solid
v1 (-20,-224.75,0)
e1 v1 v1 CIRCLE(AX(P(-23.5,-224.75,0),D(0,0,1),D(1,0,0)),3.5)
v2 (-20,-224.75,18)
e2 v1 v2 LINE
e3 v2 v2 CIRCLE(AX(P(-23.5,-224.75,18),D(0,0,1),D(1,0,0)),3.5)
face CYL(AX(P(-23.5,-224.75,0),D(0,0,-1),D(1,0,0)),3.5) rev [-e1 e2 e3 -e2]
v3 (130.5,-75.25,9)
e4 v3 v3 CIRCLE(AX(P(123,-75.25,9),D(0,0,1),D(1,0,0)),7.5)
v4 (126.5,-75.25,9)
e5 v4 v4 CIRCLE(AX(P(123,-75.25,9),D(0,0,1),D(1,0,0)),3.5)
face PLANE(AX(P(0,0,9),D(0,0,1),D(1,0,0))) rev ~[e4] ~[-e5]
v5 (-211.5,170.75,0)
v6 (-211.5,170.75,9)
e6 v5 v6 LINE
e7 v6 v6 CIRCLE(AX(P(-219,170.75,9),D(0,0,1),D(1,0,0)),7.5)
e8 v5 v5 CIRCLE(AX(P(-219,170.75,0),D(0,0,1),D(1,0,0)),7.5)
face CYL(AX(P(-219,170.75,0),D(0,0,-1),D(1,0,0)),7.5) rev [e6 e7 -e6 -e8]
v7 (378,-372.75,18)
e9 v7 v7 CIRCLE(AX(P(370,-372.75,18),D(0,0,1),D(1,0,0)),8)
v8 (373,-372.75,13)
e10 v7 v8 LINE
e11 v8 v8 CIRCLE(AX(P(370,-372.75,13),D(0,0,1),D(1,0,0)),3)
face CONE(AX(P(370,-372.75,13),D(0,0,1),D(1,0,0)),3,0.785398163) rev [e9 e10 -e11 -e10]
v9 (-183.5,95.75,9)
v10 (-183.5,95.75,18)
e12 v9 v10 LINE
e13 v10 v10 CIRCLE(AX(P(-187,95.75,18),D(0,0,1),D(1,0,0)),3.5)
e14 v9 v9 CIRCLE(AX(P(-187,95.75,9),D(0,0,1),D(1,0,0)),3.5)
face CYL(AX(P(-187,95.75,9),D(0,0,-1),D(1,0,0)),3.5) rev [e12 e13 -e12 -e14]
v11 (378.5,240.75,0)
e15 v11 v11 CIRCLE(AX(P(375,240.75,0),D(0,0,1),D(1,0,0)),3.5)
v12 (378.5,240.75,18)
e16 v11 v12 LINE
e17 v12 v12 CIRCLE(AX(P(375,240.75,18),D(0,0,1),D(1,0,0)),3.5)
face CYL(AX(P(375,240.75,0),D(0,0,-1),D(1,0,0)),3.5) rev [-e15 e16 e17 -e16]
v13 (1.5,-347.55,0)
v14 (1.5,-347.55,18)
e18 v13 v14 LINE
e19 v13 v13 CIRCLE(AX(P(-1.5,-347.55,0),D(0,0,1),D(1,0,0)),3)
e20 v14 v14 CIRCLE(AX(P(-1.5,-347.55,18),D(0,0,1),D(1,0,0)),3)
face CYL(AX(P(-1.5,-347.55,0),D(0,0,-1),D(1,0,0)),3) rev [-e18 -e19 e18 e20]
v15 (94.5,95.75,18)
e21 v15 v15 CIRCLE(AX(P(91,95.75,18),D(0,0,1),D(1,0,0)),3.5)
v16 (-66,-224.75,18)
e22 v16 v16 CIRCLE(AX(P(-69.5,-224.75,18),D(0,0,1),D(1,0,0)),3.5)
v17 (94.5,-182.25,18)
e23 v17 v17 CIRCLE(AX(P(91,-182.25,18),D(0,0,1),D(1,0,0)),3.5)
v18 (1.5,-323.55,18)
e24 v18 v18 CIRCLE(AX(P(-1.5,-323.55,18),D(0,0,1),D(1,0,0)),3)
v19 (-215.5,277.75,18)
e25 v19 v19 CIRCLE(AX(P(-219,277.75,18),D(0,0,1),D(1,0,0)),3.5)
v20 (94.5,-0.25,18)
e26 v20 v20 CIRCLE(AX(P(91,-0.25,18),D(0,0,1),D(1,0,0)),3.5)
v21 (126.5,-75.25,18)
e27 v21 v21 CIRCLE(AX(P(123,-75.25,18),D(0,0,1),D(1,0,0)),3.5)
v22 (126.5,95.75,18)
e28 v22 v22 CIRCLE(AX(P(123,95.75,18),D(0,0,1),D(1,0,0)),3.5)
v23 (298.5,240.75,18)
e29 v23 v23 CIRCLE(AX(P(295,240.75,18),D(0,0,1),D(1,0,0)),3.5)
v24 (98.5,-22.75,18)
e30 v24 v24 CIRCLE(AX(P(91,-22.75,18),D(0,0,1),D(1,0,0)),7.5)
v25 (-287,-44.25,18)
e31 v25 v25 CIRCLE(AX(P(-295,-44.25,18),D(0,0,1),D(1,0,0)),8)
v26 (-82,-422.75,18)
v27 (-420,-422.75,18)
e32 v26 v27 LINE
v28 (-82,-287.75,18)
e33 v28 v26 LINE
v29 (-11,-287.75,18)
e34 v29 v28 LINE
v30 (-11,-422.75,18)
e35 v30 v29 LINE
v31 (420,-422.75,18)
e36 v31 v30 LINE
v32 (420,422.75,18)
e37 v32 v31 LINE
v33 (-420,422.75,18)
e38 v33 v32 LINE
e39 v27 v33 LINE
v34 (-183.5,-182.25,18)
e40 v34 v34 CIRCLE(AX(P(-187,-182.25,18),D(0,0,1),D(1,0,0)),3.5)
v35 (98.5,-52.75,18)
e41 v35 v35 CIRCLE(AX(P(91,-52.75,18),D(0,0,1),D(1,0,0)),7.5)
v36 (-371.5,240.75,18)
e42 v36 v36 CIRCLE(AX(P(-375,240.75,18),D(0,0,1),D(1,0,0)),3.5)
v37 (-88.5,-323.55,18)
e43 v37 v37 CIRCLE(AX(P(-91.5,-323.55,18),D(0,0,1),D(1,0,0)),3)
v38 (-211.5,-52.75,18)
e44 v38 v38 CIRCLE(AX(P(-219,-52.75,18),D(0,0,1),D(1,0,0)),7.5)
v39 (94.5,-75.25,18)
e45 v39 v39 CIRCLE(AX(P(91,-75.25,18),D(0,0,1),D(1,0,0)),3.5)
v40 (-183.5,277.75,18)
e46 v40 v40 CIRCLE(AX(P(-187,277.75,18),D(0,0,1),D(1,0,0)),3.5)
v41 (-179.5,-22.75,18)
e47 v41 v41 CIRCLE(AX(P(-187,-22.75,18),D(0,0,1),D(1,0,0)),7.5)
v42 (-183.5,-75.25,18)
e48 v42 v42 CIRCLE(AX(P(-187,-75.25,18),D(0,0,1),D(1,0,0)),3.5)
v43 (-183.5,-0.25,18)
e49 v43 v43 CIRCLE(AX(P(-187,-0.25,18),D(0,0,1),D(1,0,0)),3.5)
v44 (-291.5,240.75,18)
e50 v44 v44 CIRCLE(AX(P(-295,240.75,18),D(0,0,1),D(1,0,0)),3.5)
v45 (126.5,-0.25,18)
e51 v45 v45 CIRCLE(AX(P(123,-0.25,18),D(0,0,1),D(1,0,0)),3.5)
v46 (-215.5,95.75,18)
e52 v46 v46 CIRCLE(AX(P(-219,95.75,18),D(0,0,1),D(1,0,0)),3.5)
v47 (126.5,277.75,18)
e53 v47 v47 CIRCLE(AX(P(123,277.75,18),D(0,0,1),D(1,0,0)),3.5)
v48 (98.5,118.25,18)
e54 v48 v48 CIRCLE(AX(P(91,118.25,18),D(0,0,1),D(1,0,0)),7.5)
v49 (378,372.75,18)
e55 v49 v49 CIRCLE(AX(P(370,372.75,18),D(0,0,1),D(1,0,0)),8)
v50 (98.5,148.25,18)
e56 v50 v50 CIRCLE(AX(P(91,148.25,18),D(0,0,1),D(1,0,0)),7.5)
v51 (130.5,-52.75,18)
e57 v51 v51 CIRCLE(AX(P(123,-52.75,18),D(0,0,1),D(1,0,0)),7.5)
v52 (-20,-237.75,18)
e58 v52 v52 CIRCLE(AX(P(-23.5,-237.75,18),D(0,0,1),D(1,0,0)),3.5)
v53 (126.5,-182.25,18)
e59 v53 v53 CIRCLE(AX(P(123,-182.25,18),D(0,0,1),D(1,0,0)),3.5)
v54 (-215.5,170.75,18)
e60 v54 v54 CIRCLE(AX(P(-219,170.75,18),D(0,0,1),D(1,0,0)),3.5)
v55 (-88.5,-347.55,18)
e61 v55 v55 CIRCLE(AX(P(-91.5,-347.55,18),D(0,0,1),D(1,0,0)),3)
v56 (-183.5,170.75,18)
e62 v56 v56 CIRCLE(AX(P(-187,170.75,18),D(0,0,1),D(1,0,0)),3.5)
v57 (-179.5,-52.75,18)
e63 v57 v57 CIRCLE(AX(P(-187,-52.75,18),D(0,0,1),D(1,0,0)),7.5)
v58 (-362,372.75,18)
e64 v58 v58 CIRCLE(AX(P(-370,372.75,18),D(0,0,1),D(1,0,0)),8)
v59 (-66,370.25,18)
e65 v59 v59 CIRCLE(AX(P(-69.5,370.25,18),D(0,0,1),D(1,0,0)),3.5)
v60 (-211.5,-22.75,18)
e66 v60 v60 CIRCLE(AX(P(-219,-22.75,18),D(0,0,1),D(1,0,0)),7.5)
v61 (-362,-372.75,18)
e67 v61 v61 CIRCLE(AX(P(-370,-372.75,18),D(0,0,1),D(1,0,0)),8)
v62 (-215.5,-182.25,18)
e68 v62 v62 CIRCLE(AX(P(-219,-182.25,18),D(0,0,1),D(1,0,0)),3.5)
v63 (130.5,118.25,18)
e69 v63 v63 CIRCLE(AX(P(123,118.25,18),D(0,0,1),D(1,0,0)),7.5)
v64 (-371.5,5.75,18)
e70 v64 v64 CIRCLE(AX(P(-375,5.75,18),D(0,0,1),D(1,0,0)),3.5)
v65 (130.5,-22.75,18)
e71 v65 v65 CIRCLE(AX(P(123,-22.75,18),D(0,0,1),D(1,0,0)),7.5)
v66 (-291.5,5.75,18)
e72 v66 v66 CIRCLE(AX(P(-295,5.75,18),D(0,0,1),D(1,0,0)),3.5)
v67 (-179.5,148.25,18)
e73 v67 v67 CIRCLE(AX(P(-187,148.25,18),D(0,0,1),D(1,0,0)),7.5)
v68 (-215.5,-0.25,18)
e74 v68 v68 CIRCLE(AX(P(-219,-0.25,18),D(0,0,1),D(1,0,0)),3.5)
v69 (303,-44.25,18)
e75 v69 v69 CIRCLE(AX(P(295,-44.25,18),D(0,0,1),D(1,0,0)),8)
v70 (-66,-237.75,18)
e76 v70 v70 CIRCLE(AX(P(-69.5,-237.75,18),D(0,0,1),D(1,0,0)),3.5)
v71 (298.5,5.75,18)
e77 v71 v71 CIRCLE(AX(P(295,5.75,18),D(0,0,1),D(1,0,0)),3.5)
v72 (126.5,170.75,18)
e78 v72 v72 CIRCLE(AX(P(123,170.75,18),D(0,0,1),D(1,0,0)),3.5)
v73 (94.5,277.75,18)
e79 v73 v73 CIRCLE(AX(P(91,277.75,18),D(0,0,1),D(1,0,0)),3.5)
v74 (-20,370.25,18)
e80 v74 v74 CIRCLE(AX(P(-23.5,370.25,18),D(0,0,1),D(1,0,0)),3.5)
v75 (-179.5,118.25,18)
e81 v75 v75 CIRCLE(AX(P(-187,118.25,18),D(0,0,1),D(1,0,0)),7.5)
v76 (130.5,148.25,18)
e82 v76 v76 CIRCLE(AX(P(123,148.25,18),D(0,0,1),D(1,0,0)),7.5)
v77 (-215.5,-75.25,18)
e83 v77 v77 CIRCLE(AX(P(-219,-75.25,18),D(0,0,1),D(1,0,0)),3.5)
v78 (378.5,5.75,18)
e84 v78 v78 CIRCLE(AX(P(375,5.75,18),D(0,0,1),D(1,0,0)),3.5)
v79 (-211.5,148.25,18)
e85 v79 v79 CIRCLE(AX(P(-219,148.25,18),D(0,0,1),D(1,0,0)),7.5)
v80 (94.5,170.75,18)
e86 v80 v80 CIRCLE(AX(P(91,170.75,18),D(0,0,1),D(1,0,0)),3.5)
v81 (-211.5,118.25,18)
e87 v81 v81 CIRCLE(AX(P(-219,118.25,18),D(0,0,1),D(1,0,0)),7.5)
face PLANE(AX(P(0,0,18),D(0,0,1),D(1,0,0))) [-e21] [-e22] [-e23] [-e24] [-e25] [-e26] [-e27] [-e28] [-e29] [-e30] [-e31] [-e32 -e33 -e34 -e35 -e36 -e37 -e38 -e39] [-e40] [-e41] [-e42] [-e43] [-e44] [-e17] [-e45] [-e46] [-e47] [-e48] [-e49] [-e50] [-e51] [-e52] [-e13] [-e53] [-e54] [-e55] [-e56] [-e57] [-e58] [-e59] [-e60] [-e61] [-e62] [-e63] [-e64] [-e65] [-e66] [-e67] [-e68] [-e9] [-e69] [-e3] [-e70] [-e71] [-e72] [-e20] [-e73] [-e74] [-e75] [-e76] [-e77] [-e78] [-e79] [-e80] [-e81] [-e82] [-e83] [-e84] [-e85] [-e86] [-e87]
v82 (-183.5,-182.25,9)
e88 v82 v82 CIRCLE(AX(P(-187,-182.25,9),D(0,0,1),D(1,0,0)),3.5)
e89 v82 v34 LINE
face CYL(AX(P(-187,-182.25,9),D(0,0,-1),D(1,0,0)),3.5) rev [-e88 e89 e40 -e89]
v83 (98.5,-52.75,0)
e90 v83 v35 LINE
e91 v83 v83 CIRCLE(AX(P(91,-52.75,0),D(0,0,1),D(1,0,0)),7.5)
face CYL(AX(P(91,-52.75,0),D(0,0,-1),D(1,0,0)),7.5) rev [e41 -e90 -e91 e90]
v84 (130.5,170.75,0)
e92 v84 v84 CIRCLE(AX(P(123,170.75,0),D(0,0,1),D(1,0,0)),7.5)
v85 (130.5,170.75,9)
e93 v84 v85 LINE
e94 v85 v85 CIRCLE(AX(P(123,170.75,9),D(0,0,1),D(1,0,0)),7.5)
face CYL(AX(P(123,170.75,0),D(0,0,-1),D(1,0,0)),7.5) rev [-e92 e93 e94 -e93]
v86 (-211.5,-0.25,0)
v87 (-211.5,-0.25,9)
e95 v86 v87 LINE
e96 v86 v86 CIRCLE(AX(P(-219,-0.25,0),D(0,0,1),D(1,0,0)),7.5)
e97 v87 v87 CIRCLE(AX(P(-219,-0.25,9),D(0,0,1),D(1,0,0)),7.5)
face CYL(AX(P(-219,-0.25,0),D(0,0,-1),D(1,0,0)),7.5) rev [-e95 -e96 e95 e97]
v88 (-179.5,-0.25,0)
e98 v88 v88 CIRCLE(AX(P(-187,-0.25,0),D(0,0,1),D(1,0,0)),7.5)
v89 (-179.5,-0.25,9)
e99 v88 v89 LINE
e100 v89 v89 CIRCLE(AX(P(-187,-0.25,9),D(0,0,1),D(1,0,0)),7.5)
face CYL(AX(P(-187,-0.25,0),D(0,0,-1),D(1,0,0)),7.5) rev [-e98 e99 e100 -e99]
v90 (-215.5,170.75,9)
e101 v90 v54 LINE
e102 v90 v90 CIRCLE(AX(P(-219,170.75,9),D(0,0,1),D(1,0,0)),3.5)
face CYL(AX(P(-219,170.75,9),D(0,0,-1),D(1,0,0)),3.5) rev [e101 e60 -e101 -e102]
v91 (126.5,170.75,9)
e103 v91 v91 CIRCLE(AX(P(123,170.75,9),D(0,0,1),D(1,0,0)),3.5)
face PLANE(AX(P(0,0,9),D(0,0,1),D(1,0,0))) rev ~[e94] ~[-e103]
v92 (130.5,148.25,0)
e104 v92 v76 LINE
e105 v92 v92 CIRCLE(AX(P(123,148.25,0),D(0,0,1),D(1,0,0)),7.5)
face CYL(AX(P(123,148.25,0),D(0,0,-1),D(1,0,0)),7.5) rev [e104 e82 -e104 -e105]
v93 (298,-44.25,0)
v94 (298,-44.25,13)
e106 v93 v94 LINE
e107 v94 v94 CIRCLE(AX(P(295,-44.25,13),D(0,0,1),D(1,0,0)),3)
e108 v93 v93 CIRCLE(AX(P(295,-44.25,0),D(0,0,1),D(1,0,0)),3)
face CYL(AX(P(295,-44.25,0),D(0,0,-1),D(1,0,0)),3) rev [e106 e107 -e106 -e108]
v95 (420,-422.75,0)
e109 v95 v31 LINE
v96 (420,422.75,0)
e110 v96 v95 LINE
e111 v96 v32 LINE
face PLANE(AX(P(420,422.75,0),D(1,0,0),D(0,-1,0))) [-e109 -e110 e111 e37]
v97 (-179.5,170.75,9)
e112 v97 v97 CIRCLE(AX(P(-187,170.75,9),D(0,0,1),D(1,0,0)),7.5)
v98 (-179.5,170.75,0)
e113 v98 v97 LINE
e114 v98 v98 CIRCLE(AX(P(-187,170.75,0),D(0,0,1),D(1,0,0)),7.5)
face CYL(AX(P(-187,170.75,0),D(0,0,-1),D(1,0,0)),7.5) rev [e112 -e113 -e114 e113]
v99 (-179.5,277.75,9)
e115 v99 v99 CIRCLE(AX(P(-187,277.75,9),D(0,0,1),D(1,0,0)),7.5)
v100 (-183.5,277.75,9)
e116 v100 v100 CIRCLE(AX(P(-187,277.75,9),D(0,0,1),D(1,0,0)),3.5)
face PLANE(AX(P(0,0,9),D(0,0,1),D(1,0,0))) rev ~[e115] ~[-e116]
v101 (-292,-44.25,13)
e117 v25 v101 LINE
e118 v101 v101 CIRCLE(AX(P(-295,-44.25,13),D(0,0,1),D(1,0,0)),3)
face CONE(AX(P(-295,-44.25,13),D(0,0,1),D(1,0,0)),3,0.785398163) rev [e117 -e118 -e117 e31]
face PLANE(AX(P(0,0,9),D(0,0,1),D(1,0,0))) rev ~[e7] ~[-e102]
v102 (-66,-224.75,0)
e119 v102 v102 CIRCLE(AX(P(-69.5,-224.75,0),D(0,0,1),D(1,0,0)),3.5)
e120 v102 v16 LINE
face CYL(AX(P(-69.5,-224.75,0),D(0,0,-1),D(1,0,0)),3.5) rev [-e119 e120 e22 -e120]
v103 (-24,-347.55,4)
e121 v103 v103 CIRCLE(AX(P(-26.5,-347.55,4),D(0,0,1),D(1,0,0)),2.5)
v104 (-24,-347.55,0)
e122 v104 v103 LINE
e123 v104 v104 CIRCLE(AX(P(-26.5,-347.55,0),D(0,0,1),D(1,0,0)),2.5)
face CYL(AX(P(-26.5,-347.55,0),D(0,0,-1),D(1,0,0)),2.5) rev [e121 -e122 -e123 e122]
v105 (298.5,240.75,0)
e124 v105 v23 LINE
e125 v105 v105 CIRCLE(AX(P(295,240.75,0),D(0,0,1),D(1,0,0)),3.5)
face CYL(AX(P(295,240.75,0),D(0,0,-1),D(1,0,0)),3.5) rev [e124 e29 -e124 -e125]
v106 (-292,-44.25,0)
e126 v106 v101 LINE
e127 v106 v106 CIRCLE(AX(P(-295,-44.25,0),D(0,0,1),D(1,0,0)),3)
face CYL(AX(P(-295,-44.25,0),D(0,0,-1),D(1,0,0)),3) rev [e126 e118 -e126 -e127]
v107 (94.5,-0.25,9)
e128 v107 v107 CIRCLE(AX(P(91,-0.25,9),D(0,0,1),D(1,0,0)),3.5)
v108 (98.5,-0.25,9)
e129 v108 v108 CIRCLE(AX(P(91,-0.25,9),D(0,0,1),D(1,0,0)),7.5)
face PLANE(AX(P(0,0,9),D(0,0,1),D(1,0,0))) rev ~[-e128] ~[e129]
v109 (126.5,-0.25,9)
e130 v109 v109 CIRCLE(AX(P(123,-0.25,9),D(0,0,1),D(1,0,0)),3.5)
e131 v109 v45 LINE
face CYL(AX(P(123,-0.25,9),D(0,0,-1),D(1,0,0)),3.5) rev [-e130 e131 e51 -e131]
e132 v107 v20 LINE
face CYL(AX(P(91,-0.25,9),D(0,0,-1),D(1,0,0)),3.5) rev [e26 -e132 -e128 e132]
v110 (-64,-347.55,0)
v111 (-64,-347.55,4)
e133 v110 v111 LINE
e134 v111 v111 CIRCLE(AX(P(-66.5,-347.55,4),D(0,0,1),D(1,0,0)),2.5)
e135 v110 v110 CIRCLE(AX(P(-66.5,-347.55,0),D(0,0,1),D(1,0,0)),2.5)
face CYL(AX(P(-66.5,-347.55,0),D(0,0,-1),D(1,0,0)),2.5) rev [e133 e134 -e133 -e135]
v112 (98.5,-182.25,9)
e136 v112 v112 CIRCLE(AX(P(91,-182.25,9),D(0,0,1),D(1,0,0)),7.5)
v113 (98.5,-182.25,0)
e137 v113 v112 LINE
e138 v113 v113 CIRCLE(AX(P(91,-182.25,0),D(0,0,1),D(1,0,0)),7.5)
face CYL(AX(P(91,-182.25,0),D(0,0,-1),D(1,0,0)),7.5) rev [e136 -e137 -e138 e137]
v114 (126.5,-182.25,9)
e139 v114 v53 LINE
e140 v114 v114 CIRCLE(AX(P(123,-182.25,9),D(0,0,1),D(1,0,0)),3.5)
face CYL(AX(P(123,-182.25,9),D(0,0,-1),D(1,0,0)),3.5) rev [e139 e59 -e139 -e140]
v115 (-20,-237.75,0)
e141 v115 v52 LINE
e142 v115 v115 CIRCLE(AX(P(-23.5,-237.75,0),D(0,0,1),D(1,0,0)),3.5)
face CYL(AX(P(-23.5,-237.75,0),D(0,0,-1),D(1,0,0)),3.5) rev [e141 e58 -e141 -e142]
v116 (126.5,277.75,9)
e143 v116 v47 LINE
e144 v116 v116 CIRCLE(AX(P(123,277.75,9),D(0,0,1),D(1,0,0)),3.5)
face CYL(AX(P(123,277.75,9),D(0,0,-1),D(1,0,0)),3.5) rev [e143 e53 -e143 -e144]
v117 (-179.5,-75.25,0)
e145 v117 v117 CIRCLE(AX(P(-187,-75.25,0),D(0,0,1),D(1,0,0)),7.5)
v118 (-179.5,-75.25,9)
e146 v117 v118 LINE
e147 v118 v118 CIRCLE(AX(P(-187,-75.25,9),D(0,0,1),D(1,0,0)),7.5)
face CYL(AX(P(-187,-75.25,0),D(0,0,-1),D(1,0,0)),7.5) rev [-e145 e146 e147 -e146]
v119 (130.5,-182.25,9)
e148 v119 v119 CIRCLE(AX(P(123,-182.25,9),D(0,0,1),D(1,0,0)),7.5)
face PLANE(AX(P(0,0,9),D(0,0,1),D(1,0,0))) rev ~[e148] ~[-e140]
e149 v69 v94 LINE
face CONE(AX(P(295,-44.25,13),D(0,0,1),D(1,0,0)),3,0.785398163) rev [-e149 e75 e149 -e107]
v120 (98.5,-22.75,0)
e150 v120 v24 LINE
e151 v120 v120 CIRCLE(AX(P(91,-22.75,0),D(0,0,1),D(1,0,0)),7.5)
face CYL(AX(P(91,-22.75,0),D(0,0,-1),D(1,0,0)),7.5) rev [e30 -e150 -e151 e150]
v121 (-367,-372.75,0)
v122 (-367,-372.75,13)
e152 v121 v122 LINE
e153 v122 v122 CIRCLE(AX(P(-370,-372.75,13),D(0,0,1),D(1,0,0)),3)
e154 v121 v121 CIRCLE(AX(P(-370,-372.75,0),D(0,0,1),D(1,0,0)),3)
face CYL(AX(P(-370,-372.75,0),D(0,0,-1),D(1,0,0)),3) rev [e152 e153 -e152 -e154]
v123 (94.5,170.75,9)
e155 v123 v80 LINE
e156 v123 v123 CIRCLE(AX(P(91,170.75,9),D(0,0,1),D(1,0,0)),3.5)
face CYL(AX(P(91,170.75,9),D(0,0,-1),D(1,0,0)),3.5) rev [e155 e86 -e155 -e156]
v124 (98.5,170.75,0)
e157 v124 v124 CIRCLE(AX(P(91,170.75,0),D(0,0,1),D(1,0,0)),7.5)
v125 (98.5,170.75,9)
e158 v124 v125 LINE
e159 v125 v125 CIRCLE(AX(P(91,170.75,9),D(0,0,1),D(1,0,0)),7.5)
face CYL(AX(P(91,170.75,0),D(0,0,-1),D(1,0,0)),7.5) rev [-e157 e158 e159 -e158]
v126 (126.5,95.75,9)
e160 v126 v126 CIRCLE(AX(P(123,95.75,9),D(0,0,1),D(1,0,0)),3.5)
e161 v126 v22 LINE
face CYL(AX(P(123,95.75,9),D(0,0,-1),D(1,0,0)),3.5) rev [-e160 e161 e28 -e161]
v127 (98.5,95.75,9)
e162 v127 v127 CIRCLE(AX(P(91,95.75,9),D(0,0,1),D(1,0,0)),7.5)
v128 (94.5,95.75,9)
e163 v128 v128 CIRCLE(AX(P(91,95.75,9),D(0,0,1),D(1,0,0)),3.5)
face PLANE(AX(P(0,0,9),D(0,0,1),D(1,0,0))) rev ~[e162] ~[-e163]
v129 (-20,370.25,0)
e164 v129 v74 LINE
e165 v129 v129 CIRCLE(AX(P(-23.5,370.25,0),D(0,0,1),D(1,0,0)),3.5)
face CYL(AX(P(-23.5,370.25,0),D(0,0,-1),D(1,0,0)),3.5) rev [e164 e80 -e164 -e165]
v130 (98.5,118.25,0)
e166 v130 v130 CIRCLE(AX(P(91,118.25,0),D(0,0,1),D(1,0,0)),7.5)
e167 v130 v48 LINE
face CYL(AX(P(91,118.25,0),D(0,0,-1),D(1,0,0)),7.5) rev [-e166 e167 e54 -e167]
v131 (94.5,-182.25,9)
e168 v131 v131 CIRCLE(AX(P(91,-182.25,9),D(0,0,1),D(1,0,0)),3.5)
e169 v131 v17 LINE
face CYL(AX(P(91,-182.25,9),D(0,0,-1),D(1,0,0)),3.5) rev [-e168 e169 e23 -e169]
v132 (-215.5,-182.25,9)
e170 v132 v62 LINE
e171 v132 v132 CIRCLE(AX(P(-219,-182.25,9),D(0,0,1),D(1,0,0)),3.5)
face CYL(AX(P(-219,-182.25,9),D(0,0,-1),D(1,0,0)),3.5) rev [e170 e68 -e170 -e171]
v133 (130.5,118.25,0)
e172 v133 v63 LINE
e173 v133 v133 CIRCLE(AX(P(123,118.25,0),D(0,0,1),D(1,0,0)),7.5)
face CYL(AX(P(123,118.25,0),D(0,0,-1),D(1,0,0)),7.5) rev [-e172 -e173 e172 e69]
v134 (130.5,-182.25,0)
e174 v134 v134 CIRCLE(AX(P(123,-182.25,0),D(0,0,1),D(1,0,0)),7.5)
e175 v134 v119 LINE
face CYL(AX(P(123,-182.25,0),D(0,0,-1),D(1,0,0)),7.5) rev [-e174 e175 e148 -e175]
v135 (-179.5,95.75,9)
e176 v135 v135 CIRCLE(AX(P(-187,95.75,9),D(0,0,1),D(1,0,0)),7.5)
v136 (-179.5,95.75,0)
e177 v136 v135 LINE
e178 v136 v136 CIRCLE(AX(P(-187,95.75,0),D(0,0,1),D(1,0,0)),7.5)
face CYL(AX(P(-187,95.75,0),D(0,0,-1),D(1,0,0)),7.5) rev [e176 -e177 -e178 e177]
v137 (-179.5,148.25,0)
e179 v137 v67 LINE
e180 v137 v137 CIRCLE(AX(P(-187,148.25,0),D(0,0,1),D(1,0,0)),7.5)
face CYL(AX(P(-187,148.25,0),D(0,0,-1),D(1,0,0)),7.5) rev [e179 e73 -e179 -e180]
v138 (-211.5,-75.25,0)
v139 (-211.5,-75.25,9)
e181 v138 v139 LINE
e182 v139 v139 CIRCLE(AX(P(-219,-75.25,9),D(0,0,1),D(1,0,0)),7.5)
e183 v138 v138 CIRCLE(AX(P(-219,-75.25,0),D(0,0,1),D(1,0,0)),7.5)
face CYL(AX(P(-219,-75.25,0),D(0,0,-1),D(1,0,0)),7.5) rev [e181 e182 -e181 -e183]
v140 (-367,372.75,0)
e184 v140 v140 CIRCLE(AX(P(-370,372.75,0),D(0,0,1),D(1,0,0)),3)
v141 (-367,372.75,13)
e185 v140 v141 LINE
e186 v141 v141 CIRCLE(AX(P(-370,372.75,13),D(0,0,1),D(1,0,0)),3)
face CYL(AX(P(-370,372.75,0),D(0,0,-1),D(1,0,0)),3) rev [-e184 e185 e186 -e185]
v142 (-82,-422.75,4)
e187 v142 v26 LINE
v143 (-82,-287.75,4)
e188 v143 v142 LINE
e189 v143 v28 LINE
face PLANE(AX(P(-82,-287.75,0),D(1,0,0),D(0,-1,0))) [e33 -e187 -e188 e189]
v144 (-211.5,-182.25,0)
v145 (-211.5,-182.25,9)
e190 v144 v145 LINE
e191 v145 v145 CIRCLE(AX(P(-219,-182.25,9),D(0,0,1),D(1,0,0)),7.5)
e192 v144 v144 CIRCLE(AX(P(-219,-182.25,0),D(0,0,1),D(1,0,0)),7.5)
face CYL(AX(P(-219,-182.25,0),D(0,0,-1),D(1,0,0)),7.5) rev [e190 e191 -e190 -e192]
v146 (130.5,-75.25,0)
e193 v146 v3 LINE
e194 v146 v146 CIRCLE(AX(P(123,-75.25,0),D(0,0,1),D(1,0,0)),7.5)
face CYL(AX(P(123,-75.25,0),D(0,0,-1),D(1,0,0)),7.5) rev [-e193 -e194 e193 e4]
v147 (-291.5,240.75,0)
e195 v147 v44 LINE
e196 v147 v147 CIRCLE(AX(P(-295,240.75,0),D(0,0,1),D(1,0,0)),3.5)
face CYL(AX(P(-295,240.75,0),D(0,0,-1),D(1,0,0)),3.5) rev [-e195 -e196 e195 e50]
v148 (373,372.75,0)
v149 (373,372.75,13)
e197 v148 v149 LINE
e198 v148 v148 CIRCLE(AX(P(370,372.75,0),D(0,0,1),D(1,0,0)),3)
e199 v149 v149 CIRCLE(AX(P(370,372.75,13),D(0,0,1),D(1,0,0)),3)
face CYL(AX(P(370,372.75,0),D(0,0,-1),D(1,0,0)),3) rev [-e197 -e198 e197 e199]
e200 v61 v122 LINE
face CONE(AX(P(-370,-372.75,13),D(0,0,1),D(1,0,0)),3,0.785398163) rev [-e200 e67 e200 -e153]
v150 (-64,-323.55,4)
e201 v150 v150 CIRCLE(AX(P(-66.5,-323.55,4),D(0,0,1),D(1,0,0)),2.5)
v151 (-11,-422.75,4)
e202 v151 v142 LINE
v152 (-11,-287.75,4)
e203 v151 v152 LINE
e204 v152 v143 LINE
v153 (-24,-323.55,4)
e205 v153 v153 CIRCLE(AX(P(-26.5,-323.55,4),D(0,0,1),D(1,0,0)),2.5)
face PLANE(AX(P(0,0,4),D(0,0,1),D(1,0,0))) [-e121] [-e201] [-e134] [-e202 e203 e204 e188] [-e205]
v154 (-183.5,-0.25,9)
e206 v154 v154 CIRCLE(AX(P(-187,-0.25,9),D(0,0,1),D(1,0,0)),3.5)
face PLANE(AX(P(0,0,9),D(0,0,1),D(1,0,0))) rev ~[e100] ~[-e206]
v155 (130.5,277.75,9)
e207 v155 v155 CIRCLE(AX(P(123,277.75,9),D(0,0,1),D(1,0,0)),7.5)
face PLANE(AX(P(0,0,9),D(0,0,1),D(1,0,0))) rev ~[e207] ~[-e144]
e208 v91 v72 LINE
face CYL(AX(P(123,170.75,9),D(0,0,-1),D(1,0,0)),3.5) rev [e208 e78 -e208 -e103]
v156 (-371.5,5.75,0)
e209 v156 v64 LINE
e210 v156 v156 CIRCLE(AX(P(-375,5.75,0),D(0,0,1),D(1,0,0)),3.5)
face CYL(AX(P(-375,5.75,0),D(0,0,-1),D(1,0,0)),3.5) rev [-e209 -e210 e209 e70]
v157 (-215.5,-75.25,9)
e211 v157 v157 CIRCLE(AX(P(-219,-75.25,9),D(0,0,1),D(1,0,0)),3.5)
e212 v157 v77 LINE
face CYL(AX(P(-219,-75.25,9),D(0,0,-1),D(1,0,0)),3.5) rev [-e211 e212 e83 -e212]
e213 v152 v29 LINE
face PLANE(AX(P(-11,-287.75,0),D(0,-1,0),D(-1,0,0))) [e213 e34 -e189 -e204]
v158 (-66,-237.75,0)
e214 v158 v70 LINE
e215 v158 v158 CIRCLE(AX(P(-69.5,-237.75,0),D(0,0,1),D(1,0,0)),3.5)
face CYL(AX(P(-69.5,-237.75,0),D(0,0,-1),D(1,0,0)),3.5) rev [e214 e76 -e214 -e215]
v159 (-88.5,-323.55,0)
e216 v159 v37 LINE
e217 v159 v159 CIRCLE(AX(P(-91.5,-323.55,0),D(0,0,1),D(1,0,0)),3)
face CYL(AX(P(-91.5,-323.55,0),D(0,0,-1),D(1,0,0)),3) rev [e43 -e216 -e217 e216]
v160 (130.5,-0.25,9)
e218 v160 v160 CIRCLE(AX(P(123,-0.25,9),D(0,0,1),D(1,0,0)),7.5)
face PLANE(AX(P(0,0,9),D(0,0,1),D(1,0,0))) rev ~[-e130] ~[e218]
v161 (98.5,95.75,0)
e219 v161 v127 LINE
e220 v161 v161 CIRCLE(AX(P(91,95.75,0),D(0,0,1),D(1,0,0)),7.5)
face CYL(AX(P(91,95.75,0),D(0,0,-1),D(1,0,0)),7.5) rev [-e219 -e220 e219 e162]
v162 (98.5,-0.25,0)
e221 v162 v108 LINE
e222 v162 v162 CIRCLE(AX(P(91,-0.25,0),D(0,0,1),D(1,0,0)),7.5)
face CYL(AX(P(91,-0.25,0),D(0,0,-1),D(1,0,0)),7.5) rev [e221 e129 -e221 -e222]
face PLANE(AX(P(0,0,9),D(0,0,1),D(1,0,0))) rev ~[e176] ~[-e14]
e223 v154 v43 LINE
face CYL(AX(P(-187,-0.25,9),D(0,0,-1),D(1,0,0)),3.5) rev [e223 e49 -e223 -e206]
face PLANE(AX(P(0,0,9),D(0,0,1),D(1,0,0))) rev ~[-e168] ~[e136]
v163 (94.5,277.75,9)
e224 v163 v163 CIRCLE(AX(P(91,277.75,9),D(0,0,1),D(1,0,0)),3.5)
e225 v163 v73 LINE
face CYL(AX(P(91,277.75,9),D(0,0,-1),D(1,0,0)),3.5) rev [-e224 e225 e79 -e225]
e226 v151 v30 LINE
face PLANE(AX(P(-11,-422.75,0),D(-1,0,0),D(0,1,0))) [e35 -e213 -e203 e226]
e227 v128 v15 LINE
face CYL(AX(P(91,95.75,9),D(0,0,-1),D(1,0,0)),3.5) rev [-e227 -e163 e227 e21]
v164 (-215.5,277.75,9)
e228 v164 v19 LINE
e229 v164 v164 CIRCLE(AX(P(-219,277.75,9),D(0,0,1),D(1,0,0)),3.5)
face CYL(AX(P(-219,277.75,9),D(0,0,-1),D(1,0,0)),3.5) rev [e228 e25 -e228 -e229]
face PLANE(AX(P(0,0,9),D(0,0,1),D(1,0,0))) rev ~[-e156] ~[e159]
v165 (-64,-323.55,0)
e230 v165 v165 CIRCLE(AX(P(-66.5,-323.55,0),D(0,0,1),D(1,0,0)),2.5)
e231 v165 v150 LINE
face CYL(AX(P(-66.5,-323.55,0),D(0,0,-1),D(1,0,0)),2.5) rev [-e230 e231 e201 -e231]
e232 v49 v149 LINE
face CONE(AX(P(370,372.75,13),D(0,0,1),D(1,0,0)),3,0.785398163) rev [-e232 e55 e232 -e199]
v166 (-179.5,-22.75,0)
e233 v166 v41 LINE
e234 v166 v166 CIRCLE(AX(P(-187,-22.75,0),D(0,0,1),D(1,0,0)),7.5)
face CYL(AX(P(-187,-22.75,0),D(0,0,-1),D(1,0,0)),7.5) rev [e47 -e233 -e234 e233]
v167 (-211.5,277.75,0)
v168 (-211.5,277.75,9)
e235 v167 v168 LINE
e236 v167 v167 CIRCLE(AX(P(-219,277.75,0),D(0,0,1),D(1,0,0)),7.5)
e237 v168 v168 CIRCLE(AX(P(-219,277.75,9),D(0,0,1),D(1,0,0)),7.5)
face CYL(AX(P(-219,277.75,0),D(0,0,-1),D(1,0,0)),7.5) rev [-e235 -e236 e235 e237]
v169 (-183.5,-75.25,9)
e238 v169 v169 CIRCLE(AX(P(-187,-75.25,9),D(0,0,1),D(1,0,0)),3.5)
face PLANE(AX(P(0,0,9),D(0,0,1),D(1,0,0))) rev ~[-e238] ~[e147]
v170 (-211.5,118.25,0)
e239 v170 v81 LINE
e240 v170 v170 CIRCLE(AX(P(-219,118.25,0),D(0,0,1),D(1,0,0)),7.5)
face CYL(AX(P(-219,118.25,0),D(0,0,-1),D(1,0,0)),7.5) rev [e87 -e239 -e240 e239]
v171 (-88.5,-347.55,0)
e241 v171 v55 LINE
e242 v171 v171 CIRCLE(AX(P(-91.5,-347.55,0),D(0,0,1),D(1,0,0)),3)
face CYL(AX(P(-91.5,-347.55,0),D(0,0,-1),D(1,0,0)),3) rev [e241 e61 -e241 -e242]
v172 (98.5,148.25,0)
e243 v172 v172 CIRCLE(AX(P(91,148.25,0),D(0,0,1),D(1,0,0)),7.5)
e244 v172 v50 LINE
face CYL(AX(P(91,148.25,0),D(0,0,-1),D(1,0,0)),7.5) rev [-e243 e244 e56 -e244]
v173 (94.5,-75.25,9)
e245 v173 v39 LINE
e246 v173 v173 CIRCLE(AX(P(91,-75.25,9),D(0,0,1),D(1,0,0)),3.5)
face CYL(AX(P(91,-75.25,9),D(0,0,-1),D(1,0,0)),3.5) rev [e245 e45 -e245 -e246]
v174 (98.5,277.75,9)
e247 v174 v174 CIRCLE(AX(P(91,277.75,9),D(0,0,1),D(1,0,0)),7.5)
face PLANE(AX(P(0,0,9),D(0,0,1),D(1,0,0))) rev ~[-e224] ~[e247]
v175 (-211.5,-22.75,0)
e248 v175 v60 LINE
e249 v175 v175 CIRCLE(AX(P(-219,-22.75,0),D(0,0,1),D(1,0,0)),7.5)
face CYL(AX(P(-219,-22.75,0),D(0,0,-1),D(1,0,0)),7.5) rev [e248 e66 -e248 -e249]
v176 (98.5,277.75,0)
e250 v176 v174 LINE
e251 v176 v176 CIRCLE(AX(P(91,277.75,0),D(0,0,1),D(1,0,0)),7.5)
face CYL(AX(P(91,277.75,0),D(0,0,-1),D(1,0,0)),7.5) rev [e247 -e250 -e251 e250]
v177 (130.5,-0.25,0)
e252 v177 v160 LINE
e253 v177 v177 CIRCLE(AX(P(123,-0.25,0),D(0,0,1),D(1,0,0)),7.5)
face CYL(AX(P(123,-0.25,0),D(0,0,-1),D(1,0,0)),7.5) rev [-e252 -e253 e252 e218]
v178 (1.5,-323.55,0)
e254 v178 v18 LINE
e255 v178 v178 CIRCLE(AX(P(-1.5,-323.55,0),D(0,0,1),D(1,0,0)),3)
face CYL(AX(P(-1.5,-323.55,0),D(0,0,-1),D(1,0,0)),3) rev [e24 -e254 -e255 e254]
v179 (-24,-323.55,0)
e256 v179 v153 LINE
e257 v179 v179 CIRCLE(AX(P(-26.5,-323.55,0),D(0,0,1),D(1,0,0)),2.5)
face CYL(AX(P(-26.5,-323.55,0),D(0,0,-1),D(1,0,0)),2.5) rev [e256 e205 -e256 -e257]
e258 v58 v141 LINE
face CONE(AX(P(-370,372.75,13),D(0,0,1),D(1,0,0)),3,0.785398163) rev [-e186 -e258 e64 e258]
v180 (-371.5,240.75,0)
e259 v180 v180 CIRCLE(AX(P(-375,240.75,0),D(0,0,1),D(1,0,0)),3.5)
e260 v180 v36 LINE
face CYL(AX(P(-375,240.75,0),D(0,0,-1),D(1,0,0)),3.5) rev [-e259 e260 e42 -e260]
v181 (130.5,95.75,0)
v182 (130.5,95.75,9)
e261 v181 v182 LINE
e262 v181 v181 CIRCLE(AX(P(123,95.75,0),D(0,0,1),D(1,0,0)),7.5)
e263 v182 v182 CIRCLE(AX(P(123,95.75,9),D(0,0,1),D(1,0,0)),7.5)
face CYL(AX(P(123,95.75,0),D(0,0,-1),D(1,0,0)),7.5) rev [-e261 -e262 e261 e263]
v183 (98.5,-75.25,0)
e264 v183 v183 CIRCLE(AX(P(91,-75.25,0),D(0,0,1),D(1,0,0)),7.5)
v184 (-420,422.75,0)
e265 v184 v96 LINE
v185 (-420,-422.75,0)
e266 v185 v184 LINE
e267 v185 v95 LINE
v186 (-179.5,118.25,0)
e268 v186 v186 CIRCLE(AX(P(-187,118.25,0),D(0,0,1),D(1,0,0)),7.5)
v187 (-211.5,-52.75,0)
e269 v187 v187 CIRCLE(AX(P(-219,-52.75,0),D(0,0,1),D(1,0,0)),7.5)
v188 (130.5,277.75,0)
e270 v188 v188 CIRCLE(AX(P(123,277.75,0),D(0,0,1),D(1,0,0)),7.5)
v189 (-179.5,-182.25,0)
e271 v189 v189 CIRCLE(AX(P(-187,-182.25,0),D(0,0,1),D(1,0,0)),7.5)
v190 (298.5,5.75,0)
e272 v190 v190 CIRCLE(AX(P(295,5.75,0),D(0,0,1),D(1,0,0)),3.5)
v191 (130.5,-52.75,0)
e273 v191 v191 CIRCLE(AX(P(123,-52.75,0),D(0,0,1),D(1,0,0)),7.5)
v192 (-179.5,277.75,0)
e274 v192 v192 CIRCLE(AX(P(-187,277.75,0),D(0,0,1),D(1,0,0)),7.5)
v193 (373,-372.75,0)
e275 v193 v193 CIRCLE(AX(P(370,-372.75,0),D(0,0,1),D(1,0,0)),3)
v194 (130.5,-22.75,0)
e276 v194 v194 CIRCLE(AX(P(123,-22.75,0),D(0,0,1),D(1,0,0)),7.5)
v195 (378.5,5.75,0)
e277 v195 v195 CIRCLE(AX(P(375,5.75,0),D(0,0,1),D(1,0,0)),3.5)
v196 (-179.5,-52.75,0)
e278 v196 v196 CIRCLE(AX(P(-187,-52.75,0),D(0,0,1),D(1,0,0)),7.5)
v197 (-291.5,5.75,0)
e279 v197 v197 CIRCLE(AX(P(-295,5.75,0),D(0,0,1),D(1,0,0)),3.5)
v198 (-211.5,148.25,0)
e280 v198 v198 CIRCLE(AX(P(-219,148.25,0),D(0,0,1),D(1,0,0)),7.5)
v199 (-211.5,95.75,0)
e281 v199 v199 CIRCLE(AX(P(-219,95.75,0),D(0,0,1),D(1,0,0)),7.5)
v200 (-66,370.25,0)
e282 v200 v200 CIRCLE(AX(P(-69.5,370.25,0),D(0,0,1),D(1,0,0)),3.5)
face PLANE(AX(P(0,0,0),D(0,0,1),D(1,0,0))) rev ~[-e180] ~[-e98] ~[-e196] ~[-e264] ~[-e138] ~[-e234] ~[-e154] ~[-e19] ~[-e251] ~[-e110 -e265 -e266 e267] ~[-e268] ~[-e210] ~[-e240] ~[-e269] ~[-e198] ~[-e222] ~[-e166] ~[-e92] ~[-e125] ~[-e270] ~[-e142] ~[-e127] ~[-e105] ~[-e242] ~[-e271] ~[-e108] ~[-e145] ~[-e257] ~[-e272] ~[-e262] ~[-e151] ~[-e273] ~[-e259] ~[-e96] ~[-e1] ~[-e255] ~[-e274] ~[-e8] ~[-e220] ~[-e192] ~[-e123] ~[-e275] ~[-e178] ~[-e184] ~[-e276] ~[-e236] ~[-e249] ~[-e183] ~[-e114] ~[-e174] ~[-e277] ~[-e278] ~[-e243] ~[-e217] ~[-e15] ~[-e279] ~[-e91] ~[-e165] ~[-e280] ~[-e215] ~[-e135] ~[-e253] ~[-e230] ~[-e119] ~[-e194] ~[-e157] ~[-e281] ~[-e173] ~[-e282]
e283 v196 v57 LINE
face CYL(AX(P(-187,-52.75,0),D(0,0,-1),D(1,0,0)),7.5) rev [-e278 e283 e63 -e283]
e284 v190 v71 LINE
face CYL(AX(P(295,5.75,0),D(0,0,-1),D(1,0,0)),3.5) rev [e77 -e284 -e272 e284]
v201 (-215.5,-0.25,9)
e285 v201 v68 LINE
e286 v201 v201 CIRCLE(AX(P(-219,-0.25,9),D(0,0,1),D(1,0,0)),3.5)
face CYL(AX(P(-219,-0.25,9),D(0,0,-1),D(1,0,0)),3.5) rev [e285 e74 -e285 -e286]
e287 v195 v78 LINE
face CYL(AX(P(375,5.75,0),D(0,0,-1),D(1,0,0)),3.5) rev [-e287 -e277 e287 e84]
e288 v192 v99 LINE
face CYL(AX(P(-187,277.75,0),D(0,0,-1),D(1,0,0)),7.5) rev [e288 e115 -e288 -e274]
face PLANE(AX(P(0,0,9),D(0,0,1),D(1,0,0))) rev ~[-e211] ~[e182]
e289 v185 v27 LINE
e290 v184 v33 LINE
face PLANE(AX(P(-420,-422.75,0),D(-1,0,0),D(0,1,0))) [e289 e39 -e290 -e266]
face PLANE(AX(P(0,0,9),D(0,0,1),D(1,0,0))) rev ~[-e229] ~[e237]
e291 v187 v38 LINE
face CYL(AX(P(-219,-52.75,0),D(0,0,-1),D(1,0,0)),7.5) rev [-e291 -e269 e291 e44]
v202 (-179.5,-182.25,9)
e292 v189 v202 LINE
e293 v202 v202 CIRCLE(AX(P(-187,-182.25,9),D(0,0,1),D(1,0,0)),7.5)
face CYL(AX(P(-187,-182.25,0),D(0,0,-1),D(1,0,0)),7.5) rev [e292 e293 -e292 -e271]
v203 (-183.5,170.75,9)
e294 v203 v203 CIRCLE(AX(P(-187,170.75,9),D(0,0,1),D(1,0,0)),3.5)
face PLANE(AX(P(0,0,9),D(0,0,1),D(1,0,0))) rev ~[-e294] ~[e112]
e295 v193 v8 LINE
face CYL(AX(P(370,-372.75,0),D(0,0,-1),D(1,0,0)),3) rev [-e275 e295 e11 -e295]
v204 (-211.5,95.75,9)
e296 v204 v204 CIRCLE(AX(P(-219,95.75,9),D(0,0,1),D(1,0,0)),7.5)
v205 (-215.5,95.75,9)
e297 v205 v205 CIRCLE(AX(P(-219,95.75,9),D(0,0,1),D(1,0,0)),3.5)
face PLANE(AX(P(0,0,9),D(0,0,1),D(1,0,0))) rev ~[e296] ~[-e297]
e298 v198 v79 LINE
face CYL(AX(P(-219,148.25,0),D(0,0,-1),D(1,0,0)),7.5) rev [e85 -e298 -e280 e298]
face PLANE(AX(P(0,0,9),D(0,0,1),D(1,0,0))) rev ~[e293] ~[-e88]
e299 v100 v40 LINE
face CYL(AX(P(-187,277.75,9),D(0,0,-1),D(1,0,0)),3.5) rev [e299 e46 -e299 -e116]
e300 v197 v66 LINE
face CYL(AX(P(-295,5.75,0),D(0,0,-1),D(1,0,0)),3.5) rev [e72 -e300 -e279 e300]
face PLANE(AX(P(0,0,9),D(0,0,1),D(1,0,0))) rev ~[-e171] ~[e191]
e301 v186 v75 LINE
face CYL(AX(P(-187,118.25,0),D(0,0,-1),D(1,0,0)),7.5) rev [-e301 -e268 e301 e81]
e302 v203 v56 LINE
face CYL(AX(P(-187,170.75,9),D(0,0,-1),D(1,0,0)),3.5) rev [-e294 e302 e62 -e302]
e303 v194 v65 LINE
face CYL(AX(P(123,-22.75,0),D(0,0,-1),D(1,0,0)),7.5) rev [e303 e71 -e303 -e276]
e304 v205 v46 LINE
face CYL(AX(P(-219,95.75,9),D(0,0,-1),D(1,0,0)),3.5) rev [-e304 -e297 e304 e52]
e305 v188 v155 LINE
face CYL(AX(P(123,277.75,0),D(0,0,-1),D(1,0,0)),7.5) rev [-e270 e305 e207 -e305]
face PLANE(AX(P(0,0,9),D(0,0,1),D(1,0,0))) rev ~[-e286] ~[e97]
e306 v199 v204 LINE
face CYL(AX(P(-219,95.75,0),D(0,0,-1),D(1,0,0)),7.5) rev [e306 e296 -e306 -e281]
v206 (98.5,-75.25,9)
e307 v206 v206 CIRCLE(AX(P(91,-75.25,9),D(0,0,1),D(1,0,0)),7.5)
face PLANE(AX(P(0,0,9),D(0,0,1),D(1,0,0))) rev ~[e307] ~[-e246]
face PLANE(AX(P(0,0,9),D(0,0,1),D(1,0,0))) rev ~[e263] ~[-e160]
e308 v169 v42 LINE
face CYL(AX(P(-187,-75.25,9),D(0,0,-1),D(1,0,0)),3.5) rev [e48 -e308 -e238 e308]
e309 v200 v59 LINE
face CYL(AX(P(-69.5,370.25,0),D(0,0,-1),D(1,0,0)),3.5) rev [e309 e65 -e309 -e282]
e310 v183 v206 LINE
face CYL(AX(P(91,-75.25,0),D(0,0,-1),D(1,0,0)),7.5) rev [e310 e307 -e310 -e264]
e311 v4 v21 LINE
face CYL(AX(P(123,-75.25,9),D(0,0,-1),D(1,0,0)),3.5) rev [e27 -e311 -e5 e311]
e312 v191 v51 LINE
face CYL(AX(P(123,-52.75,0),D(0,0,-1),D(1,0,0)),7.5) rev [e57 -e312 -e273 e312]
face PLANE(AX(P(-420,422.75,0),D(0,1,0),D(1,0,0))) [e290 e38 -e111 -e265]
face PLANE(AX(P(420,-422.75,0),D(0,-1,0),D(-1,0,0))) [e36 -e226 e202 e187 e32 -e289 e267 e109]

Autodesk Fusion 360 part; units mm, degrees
sketch "Top" plane through (0, 0, 0) normal (0, 0, 1) x (1, 0, 0)
  line L0 (420, -422.75) -> (-420, -422.75)
  line L1 (-420, -422.75) -> (-420, 422.75)
  line L2 (-420, 422.75) -> (420, 422.75)
  line L3 (420, 422.75) -> (420, -422.75)
  line L4 (420, -422.75) -> (-420, 422.75) construction
  line L5 (-420, -422.75) -> (420, 422.75) construction
  line L6 (-82, -422.75) -> (-11, -422.75)
  line L7 (-11, -422.75) -> (-11, -287.75)
  line L8 (-11, -287.75) -> (-82, -287.75)
  line L9 (-82, -287.75) -> (-82, -422.75)
  line L10 (-66.5, -323.55) -> (-26.5, -323.55) construction
  line L11 (-26.5, -323.55) -> (-26.5, -347.55) construction
  line L12 (-26.5, -347.55) -> (-66.5, -347.55) construction
  line L13 (-66.5, -347.55) -> (-66.5, -323.55) construction
  line L14 (-26.5, -323.55) -> (-11, -323.55) construction
  line L15 (-66.5, -323.55) -> (-82, -323.55) construction
  circle A0 centre (-66.5, -323.55) radius 2.5
  circle A1 centre (-26.5, -323.55) radius 2.5
  circle A2 centre (-66.5, -347.55) radius 2.5
  circle A3 centre (-26.5, -347.55) radius 2.5
  line L16 (-91.5, -320) -> (-91.5, -350) construction
  line L17 (-1.5, -320) -> (-1.5, -350) construction
  line L18 (-66.5, -347.55) -> (-91.5, -347.55) construction
  line L19 (-26.5, -347.55) -> (-1.5, -347.55) construction
  circle A4 centre (-91.5, -323.55) radius 3
  circle A5 centre (-91.5, -347.55) radius 3
  circle A6 centre (-1.5, -323.55) radius 3
  circle A7 centre (-1.5, -347.55) radius 3
  line L20 (-46.5, -323.55) -> (-46.5, -180) construction
  line L21 (-69.5, -237.75) -> (-46.5, -237.75) construction
  line L22 (-23.5, -237.75) -> (-23.5, 370.25) construction
  line L23 (-69.5, 370.25) -> (-69.5, -237.75) construction
  line L24 (-46.5, -237.75) -> (-23.5, -237.75) construction
  line L25 (-23.5, 370.25) -> (-69.5, 370.25) construction
  line L26 (-69.5, -224.75) -> (-23.5, -224.75) construction
  circle A8 centre (-69.5, -237.75) radius 3.5
  circle A9 centre (-23.5, -237.75) radius 3.5
  circle A10 centre (-69.5, -224.75) radius 3.5
  circle A11 centre (-23.5, -224.75) radius 3.5
  circle A12 centre (-23.5, 370.25) radius 3.5
  circle A13 centre (-69.5, 370.25) radius 3.5
  line L27 (91, -182.25) -> (123, -182.25) construction
  line L28 (123, -182.25) -> (123, 277.75) construction
  line L29 (123, 277.75) -> (91, 277.75) construction
  line L30 (91, 277.75) -> (91, -182.25) construction
  line L31 (91, -22.75) -> (123, -22.75) construction
  line L32 (91, -0.25) -> (123, -0.25) construction
  line L33 (91, 95.75) -> (123, 95.75) construction
  line L34 (91, 118.25) -> (123, 118.25) construction
  line L35 (91, -52.75) -> (123, -52.75) construction
  line L36 (91, -75.25) -> (123, -75.25) construction
  line L37 (123, 148.25) -> (91, 148.25) construction
  line L38 (123, 170.75) -> (91, 170.75) construction
  line L39 (-219, -75.25) -> (-187, -75.25) construction
  line L40 (-219, -52.75) -> (-187, -52.75) construction
  line L41 (-219, 95.75) -> (-187, 95.75) construction
  line L42 (-219, 277.75) -> (-219, -182.25) construction
  line L43 (-187, 170.75) -> (-219, 170.75) construction
  line L44 (-187, 277.75) -> (-219, 277.75) construction
  line L45 (-219, -182.25) -> (-187, -182.25) construction
  line L46 (-187, 148.25) -> (-219, 148.25) construction
  line L47 (-187, -182.25) -> (-187, 277.75) construction
  line L48 (-219, 118.25) -> (-187, 118.25) construction
  line L49 (-219, -0.25) -> (-187, -0.25) construction
  line L50 (-219, -22.75) -> (-187, -22.75) construction
  circle A14 centre (91, -52.75) radius 7.5
  circle A15 centre (123, -52.75) radius 7.5
  circle A16 centre (91, -22.75) radius 7.5
  circle A17 centre (123, -22.75) radius 7.5
  circle A18 centre (91, 118.25) radius 7.5
  circle A19 centre (123, 118.25) radius 7.5
  circle A20 centre (91, 148.25) radius 7.5
  circle A21 centre (123, 148.25) radius 7.5
  circle A22 centre (-219, 148.25) radius 7.5
  circle A23 centre (-187, 148.25) radius 7.5
  circle A24 centre (-219, 118.25) radius 7.5
  circle A25 centre (-187, 118.25) radius 7.5
  circle A26 centre (-219, -22.75) radius 7.5
  circle A27 centre (-187, -22.75) radius 7.5
  circle A28 centre (-219, -52.75) radius 7.5
  circle A29 centre (-187, -52.75) radius 7.5
  line L51 (-375, 240.75) -> (-295, 240.75) construction
  line L52 (-295, 240.75) -> (-295, 5.75) construction
  line L53 (-295, 5.75) -> (-375, 5.75) construction
  line L54 (-375, 5.75) -> (-375, 240.75) construction
  line L55 (295, 240.75) -> (375, 240.75) construction
  line L56 (375, 240.75) -> (375, 5.75) construction
  line L57 (375, 5.75) -> (295, 5.75) construction
  line L58 (295, 5.75) -> (295, 240.75) construction
  circle A30 centre (-375, 240.75) radius 3.5
  circle A31 centre (-295, 240.75) radius 3.5
  circle A32 centre (-375, 5.75) radius 3.5
  circle A33 centre (-295, 5.75) radius 3.5
  circle A34 centre (295, 5.75) radius 3.5
  circle A35 centre (375, 5.75) radius 3.5
  circle A36 centre (375, 240.75) radius 3.5
  circle A37 centre (295, 240.75) radius 3.5
  circle A38 centre (-219, 277.75) radius 3.5
  circle A39 centre (-219, 277.75) radius 7.5
  circle A40 centre (-187, 277.75) radius 3.5
  circle A41 centre (-187, 277.75) radius 7.5
  circle A42 centre (-219, 170.75) radius 3.5
  circle A43 centre (-219, 170.75) radius 7.5
  circle A44 centre (-187, 170.75) radius 3.5
  circle A45 centre (-187, 170.75) radius 7.5
  circle A46 centre (91, 277.75) radius 3.5
  circle A47 centre (91, 277.75) radius 7.5
  circle A48 centre (123, 277.75) radius 3.5
  circle A49 centre (123, 277.75) radius 7.5
  circle A50 centre (91, 170.75) radius 3.5
  circle A51 centre (91, 170.75) radius 7.5
  circle A52 centre (123, 170.75) radius 3.5
  circle A53 centre (123, 170.75) radius 7.5
  circle A54 centre (91, 95.75) radius 3.5
  circle A55 centre (91, 95.75) radius 7.5
  circle A56 centre (123, 95.75) radius 3.5
  circle A57 centre (123, 95.75) radius 7.5
  circle A58 centre (-219, 95.75) radius 3.5
  circle A59 centre (-219, 95.75) radius 7.5
  circle A60 centre (-187, 95.75) radius 3.5
  circle A61 centre (-187, 95.75) radius 7.5
  circle A62 centre (-219, -0.25) radius 3.5
  circle A63 centre (-219, -0.25) radius 7.5
  circle A64 centre (-187, -0.25) radius 3.5
  circle A65 centre (-187, -0.25) radius 7.5
  circle A66 centre (-219, -75.25) radius 3.5
  circle A67 centre (-219, -75.25) radius 7.5
  circle A68 centre (-187, -75.25) radius 3.5
  circle A69 centre (-187, -75.25) radius 7.5
  circle A70 centre (91, -0.25) radius 3.5
  circle A71 centre (91, -0.25) radius 7.5
  circle A72 centre (123, -0.25) radius 3.5
  circle A73 centre (123, -0.25) radius 7.5
  circle A74 centre (91, -75.25) radius 3.5
  circle A75 centre (91, -75.25) radius 7.5
  circle A76 centre (123, -75.25) radius 3.5
  circle A77 centre (123, -75.25) radius 7.5
  circle A78 centre (91, -182.25) radius 3.5
  circle A79 centre (91, -182.25) radius 7.5
  circle A80 centre (123, -182.25) radius 3.5
  circle A81 centre (123, -182.25) radius 7.5
  circle A82 centre (-219, -182.25) radius 3.5
  circle A83 centre (-219, -182.25) radius 7.5
  circle A84 centre (-187, -182.25) radius 3.5
  circle A85 centre (-187, -182.25) radius 7.5
  circle A86 centre (-370, -372.75) radius 3
  circle A87 centre (370, -372.75) radius 3
  circle A88 centre (370, 372.75) radius 3
  circle A89 centre (-370, 372.75) radius 3
  circle A90 centre (-295, -44.25) radius 3
  circle A91 centre (295, -44.25) radius 3
  dimension "d1" = 845.5
  dimension "d2" = 840
  dimension "d3" = 71
  dimension "d4" = 135
  dimension "d6" = 40
  dimension "d7" = 24
  dimension "d9" = 5
  dimension "d10" = 5
  dimension "d11" = 5
  dimension "d12" = 5
  dimension "d14" = 90
  dimension "d15" = 6
  dimension "d16" = 6
  dimension "d17" = 6
  dimension "d18" = 6
  dimension "d23" = 13
  dimension "d24" = 608
  dimension "d25" = 46
  dimension "d26" = 185
  dimension "d27" = 7
  dimension "d28" = 7
  dimension "d29" = 7
  dimension "d30" = 7
  dimension "d31" = 7
  dimension "d32" = 7
  dimension "d33" = 32
  dimension "d34" = 460
  dimension "d35" = 107
  dimension "d36" = 107
  dimension "d37" = 22.5
  dimension "d38" = 30
  dimension "d39" = 22.5
  dimension "d40" = 22.5
  dimension "d41" = 30
  dimension "d42" = 22.5
  dimension "d43" = 116
  dimension "d44" = 32
  dimension "d45" = 460
  dimension "d46" = 107
  dimension "d47" = 107
  dimension "d48" = 22.5
  dimension "d49" = 30
  dimension "d50" = 22.5
  dimension "d51" = 22.5
  dimension "d52" = 30
  dimension "d53" = 22.5
  dimension "d54" = 278
  dimension "d55" = 114.5
  dimension "d56" = 240.5
  dimension "d61" = 15
  dimension "d62" = 15
  dimension "d63" = 15
  dimension "d64" = 15
  dimension "d69" = 15
  dimension "d70" = 15
  dimension "d71" = 15
  dimension "d72" = 15
  dimension "d81" = 15
  dimension "d82" = 15
  dimension "d83" = 15
  dimension "d84" = 15
  dimension "d89" = 15
  dimension "d90" = 15
  dimension "d91" = 15
  dimension "d92" = 15
  dimension "d97" = 80
  dimension "d98" = 235
  dimension "d99" = 80
  dimension "d100" = 235
  dimension "d101" = 7
  dimension "d102" = 7
  dimension "d103" = 7
  dimension "d104" = 7
  dimension "d105" = 7
  dimension "d106" = 7
  dimension "d107" = 7
  dimension "d108" = 7
  dimension "d109" = 45
  dimension "d110" = 45
  dimension "d111" = 182
  dimension "d112" = 182
  dimension "d155" = 466.5
  dimension "d156" = 75.2
  dimension "d158" = 240
  dimension "d159" = 258
  dimension "d182" = 7
  dimension "d183" = 15
  dimension "d184" = 7
  dimension "d185" = 15
  dimension "d186" = 7
  dimension "d187" = 15
  dimension "d188" = 7
  dimension "d189" = 15
  dimension "d190" = 7
  dimension "d191" = 15
  dimension "d192" = 7
  dimension "d193" = 15
  dimension "d194" = 7
  dimension "d195" = 15
  dimension "d196" = 7
  dimension "d197" = 15
  dimension "d198" = 7
  dimension "d199" = 15
  dimension "d200" = 7
  dimension "d201" = 15
  dimension "d202" = 7
  dimension "d203" = 15
  dimension "d204" = 7
  dimension "d205" = 15
  dimension "d206" = 7
  dimension "d207" = 15
  dimension "d208" = 7
  dimension "d209" = 15
  dimension "d210" = 7
  dimension "d211" = 15
  dimension "d212" = 7
  dimension "d213" = 15
  dimension "d214" = 7
  dimension "d215" = 15
  dimension "d216" = 7
  dimension "d217" = 15
  dimension "d218" = 7
  dimension "d219" = 15
  dimension "d220" = 7
  dimension "d221" = 15
  dimension "d222" = 7
  dimension "d223" = 15
  dimension "d224" = 7
  dimension "d225" = 15
  dimension "d226" = 7
  dimension "d227" = 15
  dimension "d228" = 7
  dimension "d229" = 15
  dimension "d235" = 6
  dimension "d236" = 50
  dimension "d237" = 50
  dimension "d238" = 6
  dimension "d239" = 6
  dimension "d240" = 6
  dimension "d241" = 6
  dimension "d242" = 6
  dimension "d243" = 50
  dimension "d244" = 50
  dimension "d245" = 50
  dimension "d246" = 50
  dimension "d247" = 50
  dimension "d248" = 50
  dimension "d249" = 50
  dimension "d250" = 50
extrude "Extrude1" add sketch "Top" along normal blind 18 contours L0 L1 L2 L3 L7 L8 L9
extrude "Extrude11" add sketch "Top" along normal blind 4 contours L0 L6 L7 L8 L9
extrude "Extrude12" add sketch "Top" along normal blind 9 from surface at 9 contours A39 | A41 | A43 | A45 | A47 | A49 | A51 | A53 | A55 | A57 | A59 | A61 | A63 | A65 | A67 | A69 | A71 | A73 | A75 | A77 | A79 | A81 | A83 | A85
chamfer "Chamfer1" distance 5 angle 45 6 edges at (-372.797, -371.6652, 18) (-297.797, -43.1652, 18) (-372.797, 373.8348, 18) (367.203, 373.8348, 18) (292.203, -43.1652, 18) (367.203, -371.6652, 18)
equation "d61 = M6WasherClearance"
equation "d62 = M6WasherClearance"
equation "d63 = M6WasherClearance"
equation "d64 = M6WasherClearance"
equation "d69 = M6WasherClearance"
equation "d70 = M6WasherClearance"
equation "d71 = M6WasherClearance"
equation "d72 = M6WasherClearance"
equation "d81 = M6WasherClearance"
equation "d82 = M6WasherClearance"
equation "d83 = M6WasherClearance"
equation "d84 = M6WasherClearance"
equation "d89 = M6WasherClearance"
equation "d90 = M6WasherClearance"
equation "d91 = M6WasherClearance"
equation "d92 = M6WasherClearance"
equation "M6WasherClearance = 15 mm"
equation "M5ClearHole = 6 mm"
equation "M6ClearHole = 7 mm"
equation "d182 = M6ClearHole"
equation "d183 = M6WasherClearance"
equation "d184 = M6ClearHole"
equation "d185 = M6WasherClearance"
equation "d186 = M6ClearHole"
equation "d187 = M6WasherClearance"
equation "d188 = M6ClearHole"
equation "d189 = M6WasherClearance"
equation "d190 = M6ClearHole"
equation "d191 = M6WasherClearance"
equation "d192 = M6ClearHole"
equation "d193 = M6WasherClearance"
equation "d194 = M6ClearHole"
equation "d195 = M6WasherClearance"
equation "d196 = M6ClearHole"
equation "d197 = M6WasherClearance"
equation "d198 = M6ClearHole"
equation "d199 = M6WasherClearance"
equation "d200 = M6ClearHole"
equation "d201 = M6WasherClearance"
equation "d202 = M6ClearHole"
equation "d203 = M6WasherClearance"
equation "d204 = M6ClearHole"
equation "d205 = M6WasherClearance"
equation "d206 = M6ClearHole"
equation "d207 = M6WasherClearance"
equation "d208 = M6ClearHole"
equation "d209 = M6WasherClearance"
equation "d210 = M6ClearHole"
equation "d211 = M6WasherClearance"
equation "d212 = M6ClearHole"
equation "d213 = M6WasherClearance"
equation "d214 = M6ClearHole"
equation "d215 = M6WasherClearance"
equation "d216 = M6ClearHole"
equation "d217 = M6WasherClearance"
equation "d218 = M6ClearHole"
equation "d219 = M6WasherClearance"
equation "d220 = M6ClearHole"
equation "d221 = M6WasherClearance"
equation "d222 = M6ClearHole"
equation "d223 = M6WasherClearance"
equation "d224 = M6ClearHole"
equation "d225 = M6WasherClearance"
equation "d226 = M6ClearHole"
equation "d227 = M6WasherClearance"
equation "d228 = M6ClearHole"
equation "d229 = M6WasherClearance"
equation "d243 = d236"
equation "d244 = d237"
equation "d245 = d236"
equation "d246 = d237"
equation "d247 = d236"
equation "d248 = d237"
equation "d249 = d236"
equation "d250 = d236"
